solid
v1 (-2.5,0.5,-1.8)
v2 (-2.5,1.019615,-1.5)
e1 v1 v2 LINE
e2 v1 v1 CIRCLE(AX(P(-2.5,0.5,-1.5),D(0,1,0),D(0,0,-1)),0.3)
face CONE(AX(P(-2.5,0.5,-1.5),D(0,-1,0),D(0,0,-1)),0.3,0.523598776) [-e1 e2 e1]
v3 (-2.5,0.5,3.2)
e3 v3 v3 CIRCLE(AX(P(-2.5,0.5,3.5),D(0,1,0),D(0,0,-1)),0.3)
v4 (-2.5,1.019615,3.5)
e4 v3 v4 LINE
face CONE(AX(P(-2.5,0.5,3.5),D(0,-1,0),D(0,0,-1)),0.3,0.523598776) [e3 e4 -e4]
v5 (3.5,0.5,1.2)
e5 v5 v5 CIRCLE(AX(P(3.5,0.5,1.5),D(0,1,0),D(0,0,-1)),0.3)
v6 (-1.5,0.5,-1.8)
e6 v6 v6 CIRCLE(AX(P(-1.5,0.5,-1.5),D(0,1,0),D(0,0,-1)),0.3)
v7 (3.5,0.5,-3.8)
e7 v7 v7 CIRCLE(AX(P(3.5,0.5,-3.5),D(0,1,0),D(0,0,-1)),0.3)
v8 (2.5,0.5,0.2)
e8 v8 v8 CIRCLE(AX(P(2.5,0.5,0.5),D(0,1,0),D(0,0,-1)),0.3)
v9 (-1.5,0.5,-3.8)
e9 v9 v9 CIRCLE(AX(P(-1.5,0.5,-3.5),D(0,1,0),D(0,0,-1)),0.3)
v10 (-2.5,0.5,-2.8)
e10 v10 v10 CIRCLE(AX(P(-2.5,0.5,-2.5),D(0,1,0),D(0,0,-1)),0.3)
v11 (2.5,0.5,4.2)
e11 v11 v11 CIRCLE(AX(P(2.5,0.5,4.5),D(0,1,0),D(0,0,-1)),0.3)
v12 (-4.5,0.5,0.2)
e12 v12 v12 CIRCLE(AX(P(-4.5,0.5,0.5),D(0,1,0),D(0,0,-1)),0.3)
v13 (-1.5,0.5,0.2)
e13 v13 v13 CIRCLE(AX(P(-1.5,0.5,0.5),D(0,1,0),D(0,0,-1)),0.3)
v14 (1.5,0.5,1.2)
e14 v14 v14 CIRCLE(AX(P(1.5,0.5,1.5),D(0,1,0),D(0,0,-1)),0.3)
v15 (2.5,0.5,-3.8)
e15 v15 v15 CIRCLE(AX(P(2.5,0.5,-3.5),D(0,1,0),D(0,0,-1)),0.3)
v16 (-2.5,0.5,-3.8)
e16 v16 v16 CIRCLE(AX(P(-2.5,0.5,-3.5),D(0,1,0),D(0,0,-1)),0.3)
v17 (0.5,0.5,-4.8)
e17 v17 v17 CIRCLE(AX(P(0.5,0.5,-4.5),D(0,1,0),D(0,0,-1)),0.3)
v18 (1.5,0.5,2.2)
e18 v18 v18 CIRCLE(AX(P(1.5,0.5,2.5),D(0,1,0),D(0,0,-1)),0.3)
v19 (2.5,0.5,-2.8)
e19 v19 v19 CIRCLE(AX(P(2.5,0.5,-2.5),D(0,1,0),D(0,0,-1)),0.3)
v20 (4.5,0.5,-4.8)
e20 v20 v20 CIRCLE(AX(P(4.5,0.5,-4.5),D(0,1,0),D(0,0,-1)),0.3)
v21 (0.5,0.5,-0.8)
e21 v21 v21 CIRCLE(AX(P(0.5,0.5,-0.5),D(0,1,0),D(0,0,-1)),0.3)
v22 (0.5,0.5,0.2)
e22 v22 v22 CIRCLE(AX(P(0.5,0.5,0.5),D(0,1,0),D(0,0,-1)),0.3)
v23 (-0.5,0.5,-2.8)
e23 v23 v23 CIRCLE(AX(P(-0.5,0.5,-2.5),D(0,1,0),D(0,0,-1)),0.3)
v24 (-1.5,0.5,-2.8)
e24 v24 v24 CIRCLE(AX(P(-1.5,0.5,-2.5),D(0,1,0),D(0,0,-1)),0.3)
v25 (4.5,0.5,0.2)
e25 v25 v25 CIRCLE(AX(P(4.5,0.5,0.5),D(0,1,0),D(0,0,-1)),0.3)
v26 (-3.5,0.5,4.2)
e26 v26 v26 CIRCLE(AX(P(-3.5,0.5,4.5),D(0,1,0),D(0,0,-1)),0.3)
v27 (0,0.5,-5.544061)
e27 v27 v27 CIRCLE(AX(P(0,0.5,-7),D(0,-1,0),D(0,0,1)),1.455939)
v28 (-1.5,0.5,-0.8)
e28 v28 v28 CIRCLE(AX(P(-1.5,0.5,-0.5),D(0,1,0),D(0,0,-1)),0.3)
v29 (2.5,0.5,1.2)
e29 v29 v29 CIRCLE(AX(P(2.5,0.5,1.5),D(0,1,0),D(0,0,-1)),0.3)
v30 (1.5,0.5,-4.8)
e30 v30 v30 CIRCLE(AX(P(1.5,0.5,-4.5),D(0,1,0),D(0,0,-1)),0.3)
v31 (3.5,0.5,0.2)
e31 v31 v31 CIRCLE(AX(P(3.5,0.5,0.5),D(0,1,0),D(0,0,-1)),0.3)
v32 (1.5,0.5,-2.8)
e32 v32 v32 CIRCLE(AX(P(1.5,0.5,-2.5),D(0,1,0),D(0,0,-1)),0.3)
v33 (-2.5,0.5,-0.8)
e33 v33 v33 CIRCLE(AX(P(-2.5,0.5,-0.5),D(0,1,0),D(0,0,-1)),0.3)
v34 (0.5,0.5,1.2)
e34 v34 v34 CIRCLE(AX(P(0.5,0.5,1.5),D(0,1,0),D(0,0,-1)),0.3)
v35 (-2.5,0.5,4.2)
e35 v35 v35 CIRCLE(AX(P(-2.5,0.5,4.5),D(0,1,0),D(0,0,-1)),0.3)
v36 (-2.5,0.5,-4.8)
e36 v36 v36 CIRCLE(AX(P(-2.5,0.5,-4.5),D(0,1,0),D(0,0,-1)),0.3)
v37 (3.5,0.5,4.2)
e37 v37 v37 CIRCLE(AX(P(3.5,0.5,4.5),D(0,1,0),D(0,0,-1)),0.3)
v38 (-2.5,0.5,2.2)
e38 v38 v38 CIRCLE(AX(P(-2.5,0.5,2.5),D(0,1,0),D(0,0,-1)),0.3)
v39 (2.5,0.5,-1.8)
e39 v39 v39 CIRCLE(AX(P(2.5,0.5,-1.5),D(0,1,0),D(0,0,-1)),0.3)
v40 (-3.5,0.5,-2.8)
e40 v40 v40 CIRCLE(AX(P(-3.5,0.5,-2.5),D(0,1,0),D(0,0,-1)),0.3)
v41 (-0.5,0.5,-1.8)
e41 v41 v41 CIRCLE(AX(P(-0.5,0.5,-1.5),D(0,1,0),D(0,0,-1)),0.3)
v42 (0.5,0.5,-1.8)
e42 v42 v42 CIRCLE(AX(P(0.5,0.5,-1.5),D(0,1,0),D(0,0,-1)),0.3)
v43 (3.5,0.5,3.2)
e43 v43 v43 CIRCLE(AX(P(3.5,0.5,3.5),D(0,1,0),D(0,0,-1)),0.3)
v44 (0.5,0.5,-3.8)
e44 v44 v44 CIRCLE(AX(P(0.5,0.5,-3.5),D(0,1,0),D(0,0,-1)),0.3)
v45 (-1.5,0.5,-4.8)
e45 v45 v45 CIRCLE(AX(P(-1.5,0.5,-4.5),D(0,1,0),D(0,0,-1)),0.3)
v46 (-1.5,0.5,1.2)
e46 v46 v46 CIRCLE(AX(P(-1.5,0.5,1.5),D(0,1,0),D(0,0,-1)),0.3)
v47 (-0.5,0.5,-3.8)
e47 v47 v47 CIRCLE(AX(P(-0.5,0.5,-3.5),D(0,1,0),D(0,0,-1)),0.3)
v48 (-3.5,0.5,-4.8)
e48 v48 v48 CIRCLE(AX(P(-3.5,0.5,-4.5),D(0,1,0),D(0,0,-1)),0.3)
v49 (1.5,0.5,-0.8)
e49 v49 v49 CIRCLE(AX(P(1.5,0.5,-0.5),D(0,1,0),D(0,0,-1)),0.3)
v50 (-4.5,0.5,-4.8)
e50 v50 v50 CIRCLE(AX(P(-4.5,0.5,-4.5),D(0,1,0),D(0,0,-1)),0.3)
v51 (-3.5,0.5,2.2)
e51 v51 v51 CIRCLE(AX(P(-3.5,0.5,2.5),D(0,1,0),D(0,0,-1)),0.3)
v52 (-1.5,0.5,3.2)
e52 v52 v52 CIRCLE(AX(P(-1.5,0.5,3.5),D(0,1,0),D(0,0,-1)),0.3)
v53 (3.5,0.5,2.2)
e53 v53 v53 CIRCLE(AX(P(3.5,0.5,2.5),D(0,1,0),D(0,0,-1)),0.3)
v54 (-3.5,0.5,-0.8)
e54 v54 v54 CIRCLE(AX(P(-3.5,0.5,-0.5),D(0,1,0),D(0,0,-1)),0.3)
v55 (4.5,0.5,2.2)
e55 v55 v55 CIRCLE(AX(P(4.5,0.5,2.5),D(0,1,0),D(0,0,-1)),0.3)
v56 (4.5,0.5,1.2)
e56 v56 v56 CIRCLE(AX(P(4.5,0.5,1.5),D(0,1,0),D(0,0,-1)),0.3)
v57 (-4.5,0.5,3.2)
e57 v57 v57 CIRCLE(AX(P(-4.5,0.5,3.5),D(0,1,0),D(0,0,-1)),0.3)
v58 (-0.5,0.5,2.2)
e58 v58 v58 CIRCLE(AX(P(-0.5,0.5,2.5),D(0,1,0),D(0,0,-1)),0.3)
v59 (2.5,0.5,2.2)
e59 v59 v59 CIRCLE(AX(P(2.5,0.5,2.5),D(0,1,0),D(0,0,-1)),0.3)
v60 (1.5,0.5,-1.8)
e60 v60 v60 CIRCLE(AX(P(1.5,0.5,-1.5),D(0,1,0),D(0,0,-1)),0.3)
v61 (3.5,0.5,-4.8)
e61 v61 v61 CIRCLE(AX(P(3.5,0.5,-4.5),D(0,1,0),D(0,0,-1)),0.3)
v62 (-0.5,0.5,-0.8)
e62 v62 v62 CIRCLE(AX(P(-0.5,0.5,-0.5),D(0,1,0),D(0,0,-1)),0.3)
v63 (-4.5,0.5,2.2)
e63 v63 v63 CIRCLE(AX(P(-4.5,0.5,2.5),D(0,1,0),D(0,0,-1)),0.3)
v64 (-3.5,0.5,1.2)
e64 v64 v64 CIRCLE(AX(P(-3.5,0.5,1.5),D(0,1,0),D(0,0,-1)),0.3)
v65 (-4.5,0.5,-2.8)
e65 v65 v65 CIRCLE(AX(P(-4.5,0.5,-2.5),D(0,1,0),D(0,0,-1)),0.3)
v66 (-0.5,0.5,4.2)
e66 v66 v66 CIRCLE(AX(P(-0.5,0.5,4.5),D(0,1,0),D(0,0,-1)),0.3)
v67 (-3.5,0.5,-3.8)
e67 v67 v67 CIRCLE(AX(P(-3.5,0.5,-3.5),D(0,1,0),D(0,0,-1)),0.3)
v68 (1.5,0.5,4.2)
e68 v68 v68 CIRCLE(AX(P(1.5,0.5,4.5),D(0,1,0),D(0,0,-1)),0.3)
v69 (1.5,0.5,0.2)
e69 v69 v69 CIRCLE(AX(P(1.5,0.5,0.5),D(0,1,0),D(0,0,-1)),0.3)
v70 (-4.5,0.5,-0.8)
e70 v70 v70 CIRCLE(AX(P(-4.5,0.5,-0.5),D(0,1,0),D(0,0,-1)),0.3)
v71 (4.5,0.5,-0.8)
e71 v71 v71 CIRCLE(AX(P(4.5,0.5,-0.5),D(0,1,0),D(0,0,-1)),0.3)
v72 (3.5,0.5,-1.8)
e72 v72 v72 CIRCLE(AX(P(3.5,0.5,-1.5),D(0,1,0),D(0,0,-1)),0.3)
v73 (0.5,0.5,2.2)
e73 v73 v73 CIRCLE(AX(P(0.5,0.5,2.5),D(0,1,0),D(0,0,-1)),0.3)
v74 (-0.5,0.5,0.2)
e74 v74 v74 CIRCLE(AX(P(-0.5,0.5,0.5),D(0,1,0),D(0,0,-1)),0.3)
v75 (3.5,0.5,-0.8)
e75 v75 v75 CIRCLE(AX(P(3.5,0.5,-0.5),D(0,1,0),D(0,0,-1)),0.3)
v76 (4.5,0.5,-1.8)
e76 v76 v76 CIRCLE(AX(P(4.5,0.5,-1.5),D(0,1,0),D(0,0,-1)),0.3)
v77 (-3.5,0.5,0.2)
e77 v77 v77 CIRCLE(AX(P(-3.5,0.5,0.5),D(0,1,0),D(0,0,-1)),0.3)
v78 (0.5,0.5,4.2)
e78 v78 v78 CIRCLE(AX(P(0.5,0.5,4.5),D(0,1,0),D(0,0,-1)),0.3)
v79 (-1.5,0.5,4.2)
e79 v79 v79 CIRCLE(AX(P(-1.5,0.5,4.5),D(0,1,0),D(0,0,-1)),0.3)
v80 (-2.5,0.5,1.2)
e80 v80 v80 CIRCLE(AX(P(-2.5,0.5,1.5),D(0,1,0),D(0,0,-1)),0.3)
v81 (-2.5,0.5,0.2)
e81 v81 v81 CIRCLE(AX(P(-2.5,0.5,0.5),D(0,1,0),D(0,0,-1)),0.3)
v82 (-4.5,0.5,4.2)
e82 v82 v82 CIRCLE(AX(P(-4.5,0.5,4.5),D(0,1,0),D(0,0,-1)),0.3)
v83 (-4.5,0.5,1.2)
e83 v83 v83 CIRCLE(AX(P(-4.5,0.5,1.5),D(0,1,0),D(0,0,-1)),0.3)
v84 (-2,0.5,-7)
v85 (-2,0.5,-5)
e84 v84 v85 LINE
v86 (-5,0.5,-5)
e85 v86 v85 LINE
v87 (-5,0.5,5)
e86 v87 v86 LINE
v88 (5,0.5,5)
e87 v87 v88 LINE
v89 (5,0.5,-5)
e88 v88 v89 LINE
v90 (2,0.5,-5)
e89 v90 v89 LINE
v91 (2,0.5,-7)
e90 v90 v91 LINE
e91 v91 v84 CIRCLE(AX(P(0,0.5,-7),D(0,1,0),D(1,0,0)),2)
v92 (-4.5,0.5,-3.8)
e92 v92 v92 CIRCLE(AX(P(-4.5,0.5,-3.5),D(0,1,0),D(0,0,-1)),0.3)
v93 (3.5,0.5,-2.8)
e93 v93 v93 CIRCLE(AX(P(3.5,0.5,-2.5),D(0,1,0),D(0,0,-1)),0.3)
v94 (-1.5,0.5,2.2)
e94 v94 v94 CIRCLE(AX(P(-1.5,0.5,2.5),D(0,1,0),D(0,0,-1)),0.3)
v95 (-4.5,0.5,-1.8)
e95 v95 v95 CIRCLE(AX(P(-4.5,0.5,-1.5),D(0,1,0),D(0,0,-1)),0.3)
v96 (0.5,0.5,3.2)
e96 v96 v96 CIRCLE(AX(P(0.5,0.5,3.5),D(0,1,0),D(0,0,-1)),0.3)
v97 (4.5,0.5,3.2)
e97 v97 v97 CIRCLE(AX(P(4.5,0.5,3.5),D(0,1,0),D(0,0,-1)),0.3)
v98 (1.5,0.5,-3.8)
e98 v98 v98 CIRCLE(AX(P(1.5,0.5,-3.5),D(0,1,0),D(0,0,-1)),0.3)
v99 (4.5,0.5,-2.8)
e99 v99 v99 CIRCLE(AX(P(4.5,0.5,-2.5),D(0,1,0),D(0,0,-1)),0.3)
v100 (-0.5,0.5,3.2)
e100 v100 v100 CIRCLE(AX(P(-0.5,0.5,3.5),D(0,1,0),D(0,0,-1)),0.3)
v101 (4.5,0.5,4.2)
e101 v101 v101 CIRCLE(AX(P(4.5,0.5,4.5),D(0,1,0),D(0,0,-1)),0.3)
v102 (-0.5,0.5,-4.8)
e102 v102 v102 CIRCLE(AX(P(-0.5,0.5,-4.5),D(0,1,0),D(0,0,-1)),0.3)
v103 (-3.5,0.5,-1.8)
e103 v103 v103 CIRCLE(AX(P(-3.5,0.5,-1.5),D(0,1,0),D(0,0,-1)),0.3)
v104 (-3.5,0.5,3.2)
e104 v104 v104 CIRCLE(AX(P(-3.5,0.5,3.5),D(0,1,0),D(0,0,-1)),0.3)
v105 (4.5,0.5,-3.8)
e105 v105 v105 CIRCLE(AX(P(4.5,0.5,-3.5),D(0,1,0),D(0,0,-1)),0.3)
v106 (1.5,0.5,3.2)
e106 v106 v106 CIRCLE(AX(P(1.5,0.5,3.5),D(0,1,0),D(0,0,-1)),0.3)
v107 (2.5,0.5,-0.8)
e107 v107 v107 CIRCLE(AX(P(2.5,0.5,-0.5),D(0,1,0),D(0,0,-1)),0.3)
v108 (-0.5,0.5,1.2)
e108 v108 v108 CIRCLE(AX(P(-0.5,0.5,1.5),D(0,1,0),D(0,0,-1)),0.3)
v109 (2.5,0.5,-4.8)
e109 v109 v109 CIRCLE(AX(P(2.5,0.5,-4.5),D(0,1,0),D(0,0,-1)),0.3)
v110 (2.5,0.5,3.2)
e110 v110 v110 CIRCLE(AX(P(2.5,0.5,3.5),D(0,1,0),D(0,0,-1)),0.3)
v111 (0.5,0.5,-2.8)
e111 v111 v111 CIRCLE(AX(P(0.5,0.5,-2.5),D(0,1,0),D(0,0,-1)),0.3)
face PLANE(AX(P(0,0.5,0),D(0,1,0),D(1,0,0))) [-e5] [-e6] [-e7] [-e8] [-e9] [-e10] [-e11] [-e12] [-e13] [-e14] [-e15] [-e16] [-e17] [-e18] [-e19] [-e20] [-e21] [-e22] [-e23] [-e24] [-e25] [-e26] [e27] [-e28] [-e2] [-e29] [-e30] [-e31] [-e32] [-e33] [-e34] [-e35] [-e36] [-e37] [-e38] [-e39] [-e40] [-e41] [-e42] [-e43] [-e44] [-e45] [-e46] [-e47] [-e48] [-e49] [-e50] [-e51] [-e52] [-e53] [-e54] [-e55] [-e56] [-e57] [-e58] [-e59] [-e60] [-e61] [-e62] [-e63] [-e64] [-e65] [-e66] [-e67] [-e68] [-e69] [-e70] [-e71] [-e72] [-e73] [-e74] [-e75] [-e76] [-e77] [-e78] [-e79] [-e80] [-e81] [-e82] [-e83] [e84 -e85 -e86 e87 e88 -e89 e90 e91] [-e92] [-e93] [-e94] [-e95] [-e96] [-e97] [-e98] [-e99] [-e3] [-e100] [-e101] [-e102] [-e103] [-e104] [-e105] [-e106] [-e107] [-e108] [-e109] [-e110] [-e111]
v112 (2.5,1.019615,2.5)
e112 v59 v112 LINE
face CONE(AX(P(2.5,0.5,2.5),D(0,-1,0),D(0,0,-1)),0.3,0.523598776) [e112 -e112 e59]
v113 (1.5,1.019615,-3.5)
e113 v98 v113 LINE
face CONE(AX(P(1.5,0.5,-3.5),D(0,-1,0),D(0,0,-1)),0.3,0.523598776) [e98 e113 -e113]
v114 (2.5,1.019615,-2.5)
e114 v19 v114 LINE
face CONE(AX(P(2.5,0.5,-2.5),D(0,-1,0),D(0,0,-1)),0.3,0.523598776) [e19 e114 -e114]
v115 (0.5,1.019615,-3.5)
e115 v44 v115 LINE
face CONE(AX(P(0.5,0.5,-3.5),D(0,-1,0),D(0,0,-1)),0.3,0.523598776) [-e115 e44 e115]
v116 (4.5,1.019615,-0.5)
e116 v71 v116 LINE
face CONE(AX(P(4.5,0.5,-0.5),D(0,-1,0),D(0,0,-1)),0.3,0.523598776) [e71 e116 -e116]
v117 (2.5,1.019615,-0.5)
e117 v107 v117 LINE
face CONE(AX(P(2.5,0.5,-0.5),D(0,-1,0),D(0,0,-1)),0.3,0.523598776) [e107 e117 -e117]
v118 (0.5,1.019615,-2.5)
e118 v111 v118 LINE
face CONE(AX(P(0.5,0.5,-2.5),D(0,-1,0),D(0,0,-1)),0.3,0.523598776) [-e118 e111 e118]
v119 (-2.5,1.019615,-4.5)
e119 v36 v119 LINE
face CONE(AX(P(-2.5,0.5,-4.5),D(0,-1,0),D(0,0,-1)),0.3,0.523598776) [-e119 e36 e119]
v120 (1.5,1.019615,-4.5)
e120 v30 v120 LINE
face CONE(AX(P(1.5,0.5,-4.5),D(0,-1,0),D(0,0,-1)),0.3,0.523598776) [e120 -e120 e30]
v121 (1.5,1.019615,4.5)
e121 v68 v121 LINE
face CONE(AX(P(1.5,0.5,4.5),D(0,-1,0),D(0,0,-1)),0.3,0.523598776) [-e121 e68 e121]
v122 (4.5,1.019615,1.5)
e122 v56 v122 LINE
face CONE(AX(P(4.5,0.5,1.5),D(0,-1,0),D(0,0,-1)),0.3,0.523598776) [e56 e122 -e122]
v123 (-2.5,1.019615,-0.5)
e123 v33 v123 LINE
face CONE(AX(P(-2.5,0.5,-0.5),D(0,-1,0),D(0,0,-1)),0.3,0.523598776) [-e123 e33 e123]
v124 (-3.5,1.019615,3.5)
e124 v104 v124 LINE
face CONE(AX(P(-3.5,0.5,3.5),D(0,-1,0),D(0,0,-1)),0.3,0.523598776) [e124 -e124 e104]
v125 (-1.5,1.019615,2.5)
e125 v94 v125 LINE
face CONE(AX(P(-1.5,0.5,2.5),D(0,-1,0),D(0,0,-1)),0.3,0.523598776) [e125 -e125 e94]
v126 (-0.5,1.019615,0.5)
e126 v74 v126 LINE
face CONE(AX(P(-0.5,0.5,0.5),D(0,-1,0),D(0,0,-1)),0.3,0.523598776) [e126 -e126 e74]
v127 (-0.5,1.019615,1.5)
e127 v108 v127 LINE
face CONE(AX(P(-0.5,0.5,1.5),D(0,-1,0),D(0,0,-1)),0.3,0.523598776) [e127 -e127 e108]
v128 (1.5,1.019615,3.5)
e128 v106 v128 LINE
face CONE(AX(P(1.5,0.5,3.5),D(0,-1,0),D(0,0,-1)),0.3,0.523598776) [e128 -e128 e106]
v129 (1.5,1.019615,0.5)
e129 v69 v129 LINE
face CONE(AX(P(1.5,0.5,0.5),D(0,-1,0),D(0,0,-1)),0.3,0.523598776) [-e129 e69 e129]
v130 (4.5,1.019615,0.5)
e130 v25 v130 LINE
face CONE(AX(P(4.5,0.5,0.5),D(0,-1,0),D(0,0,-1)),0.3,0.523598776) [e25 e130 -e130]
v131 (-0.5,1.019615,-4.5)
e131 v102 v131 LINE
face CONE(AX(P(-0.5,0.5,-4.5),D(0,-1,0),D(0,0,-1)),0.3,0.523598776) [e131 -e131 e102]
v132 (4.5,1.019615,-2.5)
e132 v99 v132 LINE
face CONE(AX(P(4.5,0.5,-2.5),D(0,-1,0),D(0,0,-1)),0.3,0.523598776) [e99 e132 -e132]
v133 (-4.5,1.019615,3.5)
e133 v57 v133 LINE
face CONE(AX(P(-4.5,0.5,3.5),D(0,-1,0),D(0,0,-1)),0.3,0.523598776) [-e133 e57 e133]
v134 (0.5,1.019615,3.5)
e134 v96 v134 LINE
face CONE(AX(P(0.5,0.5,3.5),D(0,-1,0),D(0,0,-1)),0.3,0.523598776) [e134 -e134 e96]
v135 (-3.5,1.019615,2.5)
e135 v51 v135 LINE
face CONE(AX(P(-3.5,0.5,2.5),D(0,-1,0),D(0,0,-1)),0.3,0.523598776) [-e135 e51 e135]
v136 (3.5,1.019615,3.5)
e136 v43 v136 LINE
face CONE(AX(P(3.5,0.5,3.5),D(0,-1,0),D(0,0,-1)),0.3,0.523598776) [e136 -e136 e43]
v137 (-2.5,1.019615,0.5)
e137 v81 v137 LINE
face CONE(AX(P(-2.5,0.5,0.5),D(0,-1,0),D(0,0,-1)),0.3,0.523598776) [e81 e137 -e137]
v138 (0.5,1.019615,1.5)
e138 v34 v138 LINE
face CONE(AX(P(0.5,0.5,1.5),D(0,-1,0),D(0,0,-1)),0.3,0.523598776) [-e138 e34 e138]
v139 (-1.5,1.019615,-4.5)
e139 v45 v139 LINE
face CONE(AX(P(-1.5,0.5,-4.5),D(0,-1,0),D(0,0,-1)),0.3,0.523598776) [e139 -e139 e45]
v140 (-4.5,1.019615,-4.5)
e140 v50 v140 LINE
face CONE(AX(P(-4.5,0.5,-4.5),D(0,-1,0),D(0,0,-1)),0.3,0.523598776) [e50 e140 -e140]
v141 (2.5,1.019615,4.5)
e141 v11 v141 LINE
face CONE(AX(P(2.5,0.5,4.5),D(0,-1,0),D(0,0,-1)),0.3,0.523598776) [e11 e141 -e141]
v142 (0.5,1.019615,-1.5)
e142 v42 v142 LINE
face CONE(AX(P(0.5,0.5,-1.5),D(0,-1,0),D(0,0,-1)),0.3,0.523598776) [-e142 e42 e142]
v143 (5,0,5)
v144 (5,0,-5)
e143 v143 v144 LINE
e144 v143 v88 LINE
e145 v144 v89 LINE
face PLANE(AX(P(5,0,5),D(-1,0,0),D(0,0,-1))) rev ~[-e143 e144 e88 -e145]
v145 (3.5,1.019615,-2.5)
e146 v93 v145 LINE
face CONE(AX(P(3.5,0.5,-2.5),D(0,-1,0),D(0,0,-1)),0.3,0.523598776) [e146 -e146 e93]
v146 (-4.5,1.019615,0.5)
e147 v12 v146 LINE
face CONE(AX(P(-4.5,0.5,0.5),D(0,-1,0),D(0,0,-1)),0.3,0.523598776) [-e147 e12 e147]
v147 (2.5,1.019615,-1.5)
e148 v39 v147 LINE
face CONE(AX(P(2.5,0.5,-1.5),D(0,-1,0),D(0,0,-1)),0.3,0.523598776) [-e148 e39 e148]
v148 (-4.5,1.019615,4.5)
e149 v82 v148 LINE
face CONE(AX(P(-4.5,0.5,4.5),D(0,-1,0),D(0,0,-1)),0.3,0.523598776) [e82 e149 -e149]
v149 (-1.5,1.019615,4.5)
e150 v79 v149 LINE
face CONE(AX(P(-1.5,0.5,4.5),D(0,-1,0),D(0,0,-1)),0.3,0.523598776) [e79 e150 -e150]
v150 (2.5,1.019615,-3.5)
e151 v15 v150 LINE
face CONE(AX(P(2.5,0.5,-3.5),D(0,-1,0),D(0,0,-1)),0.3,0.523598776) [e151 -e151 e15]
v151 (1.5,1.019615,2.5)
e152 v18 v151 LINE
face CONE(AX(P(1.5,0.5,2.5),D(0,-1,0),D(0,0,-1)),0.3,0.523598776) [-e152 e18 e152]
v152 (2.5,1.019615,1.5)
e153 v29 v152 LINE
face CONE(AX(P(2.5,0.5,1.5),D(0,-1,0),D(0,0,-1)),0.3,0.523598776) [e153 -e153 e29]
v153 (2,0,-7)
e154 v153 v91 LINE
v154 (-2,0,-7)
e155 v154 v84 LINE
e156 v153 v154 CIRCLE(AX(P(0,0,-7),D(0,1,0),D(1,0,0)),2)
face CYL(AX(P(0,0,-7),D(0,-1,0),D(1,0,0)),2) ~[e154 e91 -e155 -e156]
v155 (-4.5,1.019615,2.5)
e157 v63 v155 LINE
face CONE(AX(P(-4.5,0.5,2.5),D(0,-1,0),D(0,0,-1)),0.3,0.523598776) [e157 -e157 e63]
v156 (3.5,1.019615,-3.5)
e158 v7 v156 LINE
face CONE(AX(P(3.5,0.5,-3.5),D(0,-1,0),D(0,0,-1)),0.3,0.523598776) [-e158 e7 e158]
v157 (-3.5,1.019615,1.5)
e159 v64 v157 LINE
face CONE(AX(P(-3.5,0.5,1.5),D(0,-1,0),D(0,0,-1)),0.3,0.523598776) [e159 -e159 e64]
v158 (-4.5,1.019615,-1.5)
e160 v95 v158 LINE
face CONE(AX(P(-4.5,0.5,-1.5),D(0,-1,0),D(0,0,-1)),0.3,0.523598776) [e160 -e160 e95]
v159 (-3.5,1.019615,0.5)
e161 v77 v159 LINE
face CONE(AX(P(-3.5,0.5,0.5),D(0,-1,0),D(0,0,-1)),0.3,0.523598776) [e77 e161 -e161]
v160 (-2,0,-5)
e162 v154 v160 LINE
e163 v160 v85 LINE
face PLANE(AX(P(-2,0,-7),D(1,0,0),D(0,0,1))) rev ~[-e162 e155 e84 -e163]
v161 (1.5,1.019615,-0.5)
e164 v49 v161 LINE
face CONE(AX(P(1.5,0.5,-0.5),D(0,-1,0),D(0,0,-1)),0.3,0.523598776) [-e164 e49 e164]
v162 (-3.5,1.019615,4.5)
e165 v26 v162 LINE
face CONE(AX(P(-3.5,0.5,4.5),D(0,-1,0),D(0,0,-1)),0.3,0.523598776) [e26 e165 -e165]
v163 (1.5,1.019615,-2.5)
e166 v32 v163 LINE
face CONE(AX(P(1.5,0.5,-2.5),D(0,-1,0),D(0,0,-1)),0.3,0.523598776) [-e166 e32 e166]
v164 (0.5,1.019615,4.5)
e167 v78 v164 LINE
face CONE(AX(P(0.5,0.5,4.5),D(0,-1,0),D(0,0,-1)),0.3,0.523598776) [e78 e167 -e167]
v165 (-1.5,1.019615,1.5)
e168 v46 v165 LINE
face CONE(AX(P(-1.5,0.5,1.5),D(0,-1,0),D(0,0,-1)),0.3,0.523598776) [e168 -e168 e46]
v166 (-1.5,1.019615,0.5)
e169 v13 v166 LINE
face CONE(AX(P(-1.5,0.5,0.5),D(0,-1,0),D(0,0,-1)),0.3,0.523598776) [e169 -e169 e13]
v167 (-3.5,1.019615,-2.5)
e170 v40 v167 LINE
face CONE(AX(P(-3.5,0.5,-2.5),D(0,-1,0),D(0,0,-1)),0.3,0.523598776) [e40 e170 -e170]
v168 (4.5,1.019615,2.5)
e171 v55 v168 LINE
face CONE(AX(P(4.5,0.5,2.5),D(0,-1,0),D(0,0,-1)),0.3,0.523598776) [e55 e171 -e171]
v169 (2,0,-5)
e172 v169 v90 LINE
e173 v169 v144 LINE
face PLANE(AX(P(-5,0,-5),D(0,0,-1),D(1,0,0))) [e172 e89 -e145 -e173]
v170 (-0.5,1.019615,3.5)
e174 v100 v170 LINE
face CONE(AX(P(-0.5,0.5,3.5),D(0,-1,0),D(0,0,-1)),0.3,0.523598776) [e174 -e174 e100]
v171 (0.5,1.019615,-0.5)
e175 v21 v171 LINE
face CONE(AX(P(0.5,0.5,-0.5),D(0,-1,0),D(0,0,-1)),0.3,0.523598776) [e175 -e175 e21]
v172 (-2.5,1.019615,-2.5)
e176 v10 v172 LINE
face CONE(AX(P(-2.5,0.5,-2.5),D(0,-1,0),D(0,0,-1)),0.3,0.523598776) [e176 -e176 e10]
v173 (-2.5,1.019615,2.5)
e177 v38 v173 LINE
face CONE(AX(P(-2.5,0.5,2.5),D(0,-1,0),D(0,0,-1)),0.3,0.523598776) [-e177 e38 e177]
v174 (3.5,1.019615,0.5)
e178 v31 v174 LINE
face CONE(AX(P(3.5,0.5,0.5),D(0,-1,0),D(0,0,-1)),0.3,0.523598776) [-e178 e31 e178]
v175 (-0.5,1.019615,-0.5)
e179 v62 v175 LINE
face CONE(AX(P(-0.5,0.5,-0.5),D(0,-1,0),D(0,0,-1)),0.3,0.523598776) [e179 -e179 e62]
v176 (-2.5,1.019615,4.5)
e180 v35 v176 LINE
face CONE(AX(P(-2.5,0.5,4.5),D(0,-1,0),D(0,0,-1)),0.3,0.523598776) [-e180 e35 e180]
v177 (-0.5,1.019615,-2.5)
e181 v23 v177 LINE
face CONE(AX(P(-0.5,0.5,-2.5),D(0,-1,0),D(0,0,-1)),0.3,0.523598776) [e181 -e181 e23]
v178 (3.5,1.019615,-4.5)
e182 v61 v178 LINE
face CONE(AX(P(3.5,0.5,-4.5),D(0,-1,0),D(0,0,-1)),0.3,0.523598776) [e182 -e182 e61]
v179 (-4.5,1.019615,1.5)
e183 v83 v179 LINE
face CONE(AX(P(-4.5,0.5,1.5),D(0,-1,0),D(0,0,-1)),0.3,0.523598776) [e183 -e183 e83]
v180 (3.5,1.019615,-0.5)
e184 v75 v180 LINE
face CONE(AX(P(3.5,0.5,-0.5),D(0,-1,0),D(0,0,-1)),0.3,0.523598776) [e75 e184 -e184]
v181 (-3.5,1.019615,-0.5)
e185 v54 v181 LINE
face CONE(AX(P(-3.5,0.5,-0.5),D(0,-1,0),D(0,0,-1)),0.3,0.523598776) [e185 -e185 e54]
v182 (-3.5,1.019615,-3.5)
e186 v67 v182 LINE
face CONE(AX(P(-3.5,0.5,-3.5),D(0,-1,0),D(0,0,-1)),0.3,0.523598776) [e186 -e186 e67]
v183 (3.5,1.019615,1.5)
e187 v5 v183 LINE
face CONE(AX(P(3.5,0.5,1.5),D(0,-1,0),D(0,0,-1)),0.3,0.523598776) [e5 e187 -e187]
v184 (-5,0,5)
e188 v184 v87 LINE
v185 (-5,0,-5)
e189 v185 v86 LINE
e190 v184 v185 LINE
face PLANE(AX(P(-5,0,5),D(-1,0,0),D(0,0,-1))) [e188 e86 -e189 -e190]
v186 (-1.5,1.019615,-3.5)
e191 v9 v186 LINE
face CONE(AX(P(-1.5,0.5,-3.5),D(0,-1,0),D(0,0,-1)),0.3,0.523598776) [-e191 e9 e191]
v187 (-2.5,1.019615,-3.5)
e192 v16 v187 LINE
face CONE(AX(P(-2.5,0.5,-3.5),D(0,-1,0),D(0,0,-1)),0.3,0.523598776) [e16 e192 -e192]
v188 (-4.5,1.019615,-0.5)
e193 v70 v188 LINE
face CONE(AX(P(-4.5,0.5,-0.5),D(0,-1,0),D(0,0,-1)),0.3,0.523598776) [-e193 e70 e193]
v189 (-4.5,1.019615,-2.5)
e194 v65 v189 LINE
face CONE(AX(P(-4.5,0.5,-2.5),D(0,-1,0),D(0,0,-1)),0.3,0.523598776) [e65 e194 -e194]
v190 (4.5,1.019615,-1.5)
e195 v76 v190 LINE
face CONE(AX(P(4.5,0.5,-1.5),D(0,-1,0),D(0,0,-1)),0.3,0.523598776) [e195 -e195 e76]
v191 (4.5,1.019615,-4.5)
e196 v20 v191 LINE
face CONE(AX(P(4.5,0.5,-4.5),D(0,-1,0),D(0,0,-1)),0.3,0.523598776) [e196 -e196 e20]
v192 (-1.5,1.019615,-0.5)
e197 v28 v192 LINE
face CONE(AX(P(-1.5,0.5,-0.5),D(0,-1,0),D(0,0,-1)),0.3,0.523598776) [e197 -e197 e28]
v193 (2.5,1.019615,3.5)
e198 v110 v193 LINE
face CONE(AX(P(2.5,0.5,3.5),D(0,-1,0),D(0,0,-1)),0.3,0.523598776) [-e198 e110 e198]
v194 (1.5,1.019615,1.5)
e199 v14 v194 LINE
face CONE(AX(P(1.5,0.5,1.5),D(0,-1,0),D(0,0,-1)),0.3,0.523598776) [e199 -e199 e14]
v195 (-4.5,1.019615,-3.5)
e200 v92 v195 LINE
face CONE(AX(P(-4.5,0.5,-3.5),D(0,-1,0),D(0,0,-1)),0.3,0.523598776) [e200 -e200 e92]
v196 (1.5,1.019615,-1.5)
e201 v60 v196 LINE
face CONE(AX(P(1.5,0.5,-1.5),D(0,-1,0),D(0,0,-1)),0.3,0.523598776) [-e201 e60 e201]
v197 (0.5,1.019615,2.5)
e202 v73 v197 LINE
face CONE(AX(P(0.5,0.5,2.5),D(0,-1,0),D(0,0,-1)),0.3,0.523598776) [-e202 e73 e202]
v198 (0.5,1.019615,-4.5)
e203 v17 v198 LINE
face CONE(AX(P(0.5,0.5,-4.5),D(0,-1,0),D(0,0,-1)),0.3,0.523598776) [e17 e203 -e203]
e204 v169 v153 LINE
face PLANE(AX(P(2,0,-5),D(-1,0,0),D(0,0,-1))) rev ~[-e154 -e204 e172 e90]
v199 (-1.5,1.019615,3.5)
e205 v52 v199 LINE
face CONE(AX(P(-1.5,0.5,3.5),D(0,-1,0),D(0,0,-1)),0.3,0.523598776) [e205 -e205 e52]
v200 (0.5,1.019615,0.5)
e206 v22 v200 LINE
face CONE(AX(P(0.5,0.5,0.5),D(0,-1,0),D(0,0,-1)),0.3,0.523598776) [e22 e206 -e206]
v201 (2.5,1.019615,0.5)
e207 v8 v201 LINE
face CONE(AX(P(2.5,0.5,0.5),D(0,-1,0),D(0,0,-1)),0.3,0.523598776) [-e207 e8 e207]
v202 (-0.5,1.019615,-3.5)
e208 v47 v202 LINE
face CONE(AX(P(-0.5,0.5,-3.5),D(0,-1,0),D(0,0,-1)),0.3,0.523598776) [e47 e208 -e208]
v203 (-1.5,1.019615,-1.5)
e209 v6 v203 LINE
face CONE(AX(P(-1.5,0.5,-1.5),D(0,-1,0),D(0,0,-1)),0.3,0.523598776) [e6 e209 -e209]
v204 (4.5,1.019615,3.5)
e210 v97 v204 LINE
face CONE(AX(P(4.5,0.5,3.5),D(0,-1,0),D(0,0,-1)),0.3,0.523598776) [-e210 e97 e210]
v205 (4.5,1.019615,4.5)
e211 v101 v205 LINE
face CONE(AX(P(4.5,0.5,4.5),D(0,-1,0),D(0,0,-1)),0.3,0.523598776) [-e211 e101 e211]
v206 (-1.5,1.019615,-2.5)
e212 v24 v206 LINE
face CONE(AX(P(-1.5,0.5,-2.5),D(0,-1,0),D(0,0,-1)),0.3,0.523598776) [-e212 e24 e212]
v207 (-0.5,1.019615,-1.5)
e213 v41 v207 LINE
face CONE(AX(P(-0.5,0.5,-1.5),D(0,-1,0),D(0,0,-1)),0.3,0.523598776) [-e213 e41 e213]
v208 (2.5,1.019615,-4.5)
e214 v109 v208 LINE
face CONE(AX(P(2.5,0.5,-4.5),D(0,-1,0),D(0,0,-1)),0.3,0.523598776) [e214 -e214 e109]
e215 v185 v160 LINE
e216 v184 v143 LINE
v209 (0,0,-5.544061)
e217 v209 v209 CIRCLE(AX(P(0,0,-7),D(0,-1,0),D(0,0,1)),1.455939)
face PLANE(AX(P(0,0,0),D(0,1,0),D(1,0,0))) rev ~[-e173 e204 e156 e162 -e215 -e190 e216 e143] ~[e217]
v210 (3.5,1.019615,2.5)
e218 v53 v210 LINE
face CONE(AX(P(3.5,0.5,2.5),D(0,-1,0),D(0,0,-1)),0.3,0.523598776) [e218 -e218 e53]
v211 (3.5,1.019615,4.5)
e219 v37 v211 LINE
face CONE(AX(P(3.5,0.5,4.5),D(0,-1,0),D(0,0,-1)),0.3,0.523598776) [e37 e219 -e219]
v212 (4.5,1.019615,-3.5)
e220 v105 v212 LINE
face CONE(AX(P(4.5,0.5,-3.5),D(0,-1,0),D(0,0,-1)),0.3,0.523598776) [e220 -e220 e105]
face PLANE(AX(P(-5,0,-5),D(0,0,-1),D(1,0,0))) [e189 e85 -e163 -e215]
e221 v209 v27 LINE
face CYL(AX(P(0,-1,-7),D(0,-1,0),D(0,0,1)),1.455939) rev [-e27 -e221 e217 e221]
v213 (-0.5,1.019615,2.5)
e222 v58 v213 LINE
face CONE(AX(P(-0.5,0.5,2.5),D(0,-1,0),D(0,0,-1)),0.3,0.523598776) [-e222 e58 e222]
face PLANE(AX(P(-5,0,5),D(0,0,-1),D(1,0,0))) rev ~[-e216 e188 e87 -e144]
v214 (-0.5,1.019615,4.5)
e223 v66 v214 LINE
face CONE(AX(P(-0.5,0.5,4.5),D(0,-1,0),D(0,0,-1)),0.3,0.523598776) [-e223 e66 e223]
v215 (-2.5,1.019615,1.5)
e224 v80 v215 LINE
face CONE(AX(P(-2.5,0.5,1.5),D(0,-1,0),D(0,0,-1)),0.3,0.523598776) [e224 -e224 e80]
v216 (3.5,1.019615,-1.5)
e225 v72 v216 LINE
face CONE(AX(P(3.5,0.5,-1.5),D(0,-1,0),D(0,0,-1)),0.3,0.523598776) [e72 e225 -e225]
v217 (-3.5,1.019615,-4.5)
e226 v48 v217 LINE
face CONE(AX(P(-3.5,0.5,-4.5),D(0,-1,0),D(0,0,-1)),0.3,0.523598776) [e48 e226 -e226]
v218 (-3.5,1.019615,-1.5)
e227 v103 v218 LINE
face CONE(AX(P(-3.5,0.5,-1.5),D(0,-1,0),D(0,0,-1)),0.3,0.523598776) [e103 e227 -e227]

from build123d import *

# Parameters (mm, degrees)
SKETCH1_W               = 10
SKETCH1_H               = 10
PLATE_DEPTH             = 0.5
BOSS_EXTRUDE3_DEPTH     = 0.5
CUT_EXTRUDE1_DEPTH      = 0.5
CUT_EXTRUDE1_DEPTH_BACK = 1.5
SKETCH5_R               = 1.455938962
LPATTERN1_COUNT         = 10
LPATTERN1_PITCH         = 1
LPATTERN1_COUNT_DIR2    = 10
LPATTERN1_PITCH_DIR2    = 1


with BuildPart() as part:
    # Sketch1 → Plate (new body)
    with BuildSketch(Plane(origin=(0, 0, 0), x_dir=(1, 0, 0), z_dir=(0, 1, 0))):
        Rectangle(SKETCH1_W, SKETCH1_H)
    extrude(amount=PLATE_DEPTH)

    # Sketch4 → Boss-Extrude3 (add)
    with BuildSketch(Plane(origin=(0, 0, 0), x_dir=(1, 0, 0), z_dir=(0, 1, 0))):
        with BuildLine():
            Line((-2, 7), (-2, 5))
            Line((-2, 5), (2, 5))
            Line((2, 5), (2, 7))
            ThreePointArc((2, 7), (0, 9), (-2, 7))
        make_face()
    extrude(amount=BOSS_EXTRUDE3_DEPTH)

    # Sketch5 → Cut-Extrude1 (cut, two sides: drawn at the far end of the back side and taken through both)
    with BuildSketch(Plane(origin=(0, 0.5, 0), x_dir=(1, 0, 0), z_dir=(0, 1, 0)).offset(-CUT_EXTRUDE1_DEPTH_BACK)):
        with Locations(Location((0, 7, 0), (0, 0, 270))):
            Circle(SKETCH5_R)
    extrude(amount=CUT_EXTRUDE1_DEPTH + CUT_EXTRUDE1_DEPTH_BACK, mode=Mode.SUBTRACT)

    # Cone cone 1 section (through the dimple's axis) → Cone (revolve)
    with BuildSketch(Plane(origin=(-4.5, 0.5, 4.5), x_dir=(0, 0, -1), z_dir=(1, 0, 0))):
        Polygon((0, 0), (0.3, 0), (0, 0.519615242), align=None)
    cone = revolve(axis=Axis((-4.5, 0.5, 4.5), (0, 1, 0)))

    # LPattern1: Cone 10 × 10
    with Locations(*[(i * LPATTERN1_PITCH, 0, -j * LPATTERN1_PITCH_DIR2) for i in range(LPATTERN1_COUNT) for j in range(LPATTERN1_COUNT_DIR2) if (i, j) != (0, 0)]):
        add(cone)


solid = part.part
